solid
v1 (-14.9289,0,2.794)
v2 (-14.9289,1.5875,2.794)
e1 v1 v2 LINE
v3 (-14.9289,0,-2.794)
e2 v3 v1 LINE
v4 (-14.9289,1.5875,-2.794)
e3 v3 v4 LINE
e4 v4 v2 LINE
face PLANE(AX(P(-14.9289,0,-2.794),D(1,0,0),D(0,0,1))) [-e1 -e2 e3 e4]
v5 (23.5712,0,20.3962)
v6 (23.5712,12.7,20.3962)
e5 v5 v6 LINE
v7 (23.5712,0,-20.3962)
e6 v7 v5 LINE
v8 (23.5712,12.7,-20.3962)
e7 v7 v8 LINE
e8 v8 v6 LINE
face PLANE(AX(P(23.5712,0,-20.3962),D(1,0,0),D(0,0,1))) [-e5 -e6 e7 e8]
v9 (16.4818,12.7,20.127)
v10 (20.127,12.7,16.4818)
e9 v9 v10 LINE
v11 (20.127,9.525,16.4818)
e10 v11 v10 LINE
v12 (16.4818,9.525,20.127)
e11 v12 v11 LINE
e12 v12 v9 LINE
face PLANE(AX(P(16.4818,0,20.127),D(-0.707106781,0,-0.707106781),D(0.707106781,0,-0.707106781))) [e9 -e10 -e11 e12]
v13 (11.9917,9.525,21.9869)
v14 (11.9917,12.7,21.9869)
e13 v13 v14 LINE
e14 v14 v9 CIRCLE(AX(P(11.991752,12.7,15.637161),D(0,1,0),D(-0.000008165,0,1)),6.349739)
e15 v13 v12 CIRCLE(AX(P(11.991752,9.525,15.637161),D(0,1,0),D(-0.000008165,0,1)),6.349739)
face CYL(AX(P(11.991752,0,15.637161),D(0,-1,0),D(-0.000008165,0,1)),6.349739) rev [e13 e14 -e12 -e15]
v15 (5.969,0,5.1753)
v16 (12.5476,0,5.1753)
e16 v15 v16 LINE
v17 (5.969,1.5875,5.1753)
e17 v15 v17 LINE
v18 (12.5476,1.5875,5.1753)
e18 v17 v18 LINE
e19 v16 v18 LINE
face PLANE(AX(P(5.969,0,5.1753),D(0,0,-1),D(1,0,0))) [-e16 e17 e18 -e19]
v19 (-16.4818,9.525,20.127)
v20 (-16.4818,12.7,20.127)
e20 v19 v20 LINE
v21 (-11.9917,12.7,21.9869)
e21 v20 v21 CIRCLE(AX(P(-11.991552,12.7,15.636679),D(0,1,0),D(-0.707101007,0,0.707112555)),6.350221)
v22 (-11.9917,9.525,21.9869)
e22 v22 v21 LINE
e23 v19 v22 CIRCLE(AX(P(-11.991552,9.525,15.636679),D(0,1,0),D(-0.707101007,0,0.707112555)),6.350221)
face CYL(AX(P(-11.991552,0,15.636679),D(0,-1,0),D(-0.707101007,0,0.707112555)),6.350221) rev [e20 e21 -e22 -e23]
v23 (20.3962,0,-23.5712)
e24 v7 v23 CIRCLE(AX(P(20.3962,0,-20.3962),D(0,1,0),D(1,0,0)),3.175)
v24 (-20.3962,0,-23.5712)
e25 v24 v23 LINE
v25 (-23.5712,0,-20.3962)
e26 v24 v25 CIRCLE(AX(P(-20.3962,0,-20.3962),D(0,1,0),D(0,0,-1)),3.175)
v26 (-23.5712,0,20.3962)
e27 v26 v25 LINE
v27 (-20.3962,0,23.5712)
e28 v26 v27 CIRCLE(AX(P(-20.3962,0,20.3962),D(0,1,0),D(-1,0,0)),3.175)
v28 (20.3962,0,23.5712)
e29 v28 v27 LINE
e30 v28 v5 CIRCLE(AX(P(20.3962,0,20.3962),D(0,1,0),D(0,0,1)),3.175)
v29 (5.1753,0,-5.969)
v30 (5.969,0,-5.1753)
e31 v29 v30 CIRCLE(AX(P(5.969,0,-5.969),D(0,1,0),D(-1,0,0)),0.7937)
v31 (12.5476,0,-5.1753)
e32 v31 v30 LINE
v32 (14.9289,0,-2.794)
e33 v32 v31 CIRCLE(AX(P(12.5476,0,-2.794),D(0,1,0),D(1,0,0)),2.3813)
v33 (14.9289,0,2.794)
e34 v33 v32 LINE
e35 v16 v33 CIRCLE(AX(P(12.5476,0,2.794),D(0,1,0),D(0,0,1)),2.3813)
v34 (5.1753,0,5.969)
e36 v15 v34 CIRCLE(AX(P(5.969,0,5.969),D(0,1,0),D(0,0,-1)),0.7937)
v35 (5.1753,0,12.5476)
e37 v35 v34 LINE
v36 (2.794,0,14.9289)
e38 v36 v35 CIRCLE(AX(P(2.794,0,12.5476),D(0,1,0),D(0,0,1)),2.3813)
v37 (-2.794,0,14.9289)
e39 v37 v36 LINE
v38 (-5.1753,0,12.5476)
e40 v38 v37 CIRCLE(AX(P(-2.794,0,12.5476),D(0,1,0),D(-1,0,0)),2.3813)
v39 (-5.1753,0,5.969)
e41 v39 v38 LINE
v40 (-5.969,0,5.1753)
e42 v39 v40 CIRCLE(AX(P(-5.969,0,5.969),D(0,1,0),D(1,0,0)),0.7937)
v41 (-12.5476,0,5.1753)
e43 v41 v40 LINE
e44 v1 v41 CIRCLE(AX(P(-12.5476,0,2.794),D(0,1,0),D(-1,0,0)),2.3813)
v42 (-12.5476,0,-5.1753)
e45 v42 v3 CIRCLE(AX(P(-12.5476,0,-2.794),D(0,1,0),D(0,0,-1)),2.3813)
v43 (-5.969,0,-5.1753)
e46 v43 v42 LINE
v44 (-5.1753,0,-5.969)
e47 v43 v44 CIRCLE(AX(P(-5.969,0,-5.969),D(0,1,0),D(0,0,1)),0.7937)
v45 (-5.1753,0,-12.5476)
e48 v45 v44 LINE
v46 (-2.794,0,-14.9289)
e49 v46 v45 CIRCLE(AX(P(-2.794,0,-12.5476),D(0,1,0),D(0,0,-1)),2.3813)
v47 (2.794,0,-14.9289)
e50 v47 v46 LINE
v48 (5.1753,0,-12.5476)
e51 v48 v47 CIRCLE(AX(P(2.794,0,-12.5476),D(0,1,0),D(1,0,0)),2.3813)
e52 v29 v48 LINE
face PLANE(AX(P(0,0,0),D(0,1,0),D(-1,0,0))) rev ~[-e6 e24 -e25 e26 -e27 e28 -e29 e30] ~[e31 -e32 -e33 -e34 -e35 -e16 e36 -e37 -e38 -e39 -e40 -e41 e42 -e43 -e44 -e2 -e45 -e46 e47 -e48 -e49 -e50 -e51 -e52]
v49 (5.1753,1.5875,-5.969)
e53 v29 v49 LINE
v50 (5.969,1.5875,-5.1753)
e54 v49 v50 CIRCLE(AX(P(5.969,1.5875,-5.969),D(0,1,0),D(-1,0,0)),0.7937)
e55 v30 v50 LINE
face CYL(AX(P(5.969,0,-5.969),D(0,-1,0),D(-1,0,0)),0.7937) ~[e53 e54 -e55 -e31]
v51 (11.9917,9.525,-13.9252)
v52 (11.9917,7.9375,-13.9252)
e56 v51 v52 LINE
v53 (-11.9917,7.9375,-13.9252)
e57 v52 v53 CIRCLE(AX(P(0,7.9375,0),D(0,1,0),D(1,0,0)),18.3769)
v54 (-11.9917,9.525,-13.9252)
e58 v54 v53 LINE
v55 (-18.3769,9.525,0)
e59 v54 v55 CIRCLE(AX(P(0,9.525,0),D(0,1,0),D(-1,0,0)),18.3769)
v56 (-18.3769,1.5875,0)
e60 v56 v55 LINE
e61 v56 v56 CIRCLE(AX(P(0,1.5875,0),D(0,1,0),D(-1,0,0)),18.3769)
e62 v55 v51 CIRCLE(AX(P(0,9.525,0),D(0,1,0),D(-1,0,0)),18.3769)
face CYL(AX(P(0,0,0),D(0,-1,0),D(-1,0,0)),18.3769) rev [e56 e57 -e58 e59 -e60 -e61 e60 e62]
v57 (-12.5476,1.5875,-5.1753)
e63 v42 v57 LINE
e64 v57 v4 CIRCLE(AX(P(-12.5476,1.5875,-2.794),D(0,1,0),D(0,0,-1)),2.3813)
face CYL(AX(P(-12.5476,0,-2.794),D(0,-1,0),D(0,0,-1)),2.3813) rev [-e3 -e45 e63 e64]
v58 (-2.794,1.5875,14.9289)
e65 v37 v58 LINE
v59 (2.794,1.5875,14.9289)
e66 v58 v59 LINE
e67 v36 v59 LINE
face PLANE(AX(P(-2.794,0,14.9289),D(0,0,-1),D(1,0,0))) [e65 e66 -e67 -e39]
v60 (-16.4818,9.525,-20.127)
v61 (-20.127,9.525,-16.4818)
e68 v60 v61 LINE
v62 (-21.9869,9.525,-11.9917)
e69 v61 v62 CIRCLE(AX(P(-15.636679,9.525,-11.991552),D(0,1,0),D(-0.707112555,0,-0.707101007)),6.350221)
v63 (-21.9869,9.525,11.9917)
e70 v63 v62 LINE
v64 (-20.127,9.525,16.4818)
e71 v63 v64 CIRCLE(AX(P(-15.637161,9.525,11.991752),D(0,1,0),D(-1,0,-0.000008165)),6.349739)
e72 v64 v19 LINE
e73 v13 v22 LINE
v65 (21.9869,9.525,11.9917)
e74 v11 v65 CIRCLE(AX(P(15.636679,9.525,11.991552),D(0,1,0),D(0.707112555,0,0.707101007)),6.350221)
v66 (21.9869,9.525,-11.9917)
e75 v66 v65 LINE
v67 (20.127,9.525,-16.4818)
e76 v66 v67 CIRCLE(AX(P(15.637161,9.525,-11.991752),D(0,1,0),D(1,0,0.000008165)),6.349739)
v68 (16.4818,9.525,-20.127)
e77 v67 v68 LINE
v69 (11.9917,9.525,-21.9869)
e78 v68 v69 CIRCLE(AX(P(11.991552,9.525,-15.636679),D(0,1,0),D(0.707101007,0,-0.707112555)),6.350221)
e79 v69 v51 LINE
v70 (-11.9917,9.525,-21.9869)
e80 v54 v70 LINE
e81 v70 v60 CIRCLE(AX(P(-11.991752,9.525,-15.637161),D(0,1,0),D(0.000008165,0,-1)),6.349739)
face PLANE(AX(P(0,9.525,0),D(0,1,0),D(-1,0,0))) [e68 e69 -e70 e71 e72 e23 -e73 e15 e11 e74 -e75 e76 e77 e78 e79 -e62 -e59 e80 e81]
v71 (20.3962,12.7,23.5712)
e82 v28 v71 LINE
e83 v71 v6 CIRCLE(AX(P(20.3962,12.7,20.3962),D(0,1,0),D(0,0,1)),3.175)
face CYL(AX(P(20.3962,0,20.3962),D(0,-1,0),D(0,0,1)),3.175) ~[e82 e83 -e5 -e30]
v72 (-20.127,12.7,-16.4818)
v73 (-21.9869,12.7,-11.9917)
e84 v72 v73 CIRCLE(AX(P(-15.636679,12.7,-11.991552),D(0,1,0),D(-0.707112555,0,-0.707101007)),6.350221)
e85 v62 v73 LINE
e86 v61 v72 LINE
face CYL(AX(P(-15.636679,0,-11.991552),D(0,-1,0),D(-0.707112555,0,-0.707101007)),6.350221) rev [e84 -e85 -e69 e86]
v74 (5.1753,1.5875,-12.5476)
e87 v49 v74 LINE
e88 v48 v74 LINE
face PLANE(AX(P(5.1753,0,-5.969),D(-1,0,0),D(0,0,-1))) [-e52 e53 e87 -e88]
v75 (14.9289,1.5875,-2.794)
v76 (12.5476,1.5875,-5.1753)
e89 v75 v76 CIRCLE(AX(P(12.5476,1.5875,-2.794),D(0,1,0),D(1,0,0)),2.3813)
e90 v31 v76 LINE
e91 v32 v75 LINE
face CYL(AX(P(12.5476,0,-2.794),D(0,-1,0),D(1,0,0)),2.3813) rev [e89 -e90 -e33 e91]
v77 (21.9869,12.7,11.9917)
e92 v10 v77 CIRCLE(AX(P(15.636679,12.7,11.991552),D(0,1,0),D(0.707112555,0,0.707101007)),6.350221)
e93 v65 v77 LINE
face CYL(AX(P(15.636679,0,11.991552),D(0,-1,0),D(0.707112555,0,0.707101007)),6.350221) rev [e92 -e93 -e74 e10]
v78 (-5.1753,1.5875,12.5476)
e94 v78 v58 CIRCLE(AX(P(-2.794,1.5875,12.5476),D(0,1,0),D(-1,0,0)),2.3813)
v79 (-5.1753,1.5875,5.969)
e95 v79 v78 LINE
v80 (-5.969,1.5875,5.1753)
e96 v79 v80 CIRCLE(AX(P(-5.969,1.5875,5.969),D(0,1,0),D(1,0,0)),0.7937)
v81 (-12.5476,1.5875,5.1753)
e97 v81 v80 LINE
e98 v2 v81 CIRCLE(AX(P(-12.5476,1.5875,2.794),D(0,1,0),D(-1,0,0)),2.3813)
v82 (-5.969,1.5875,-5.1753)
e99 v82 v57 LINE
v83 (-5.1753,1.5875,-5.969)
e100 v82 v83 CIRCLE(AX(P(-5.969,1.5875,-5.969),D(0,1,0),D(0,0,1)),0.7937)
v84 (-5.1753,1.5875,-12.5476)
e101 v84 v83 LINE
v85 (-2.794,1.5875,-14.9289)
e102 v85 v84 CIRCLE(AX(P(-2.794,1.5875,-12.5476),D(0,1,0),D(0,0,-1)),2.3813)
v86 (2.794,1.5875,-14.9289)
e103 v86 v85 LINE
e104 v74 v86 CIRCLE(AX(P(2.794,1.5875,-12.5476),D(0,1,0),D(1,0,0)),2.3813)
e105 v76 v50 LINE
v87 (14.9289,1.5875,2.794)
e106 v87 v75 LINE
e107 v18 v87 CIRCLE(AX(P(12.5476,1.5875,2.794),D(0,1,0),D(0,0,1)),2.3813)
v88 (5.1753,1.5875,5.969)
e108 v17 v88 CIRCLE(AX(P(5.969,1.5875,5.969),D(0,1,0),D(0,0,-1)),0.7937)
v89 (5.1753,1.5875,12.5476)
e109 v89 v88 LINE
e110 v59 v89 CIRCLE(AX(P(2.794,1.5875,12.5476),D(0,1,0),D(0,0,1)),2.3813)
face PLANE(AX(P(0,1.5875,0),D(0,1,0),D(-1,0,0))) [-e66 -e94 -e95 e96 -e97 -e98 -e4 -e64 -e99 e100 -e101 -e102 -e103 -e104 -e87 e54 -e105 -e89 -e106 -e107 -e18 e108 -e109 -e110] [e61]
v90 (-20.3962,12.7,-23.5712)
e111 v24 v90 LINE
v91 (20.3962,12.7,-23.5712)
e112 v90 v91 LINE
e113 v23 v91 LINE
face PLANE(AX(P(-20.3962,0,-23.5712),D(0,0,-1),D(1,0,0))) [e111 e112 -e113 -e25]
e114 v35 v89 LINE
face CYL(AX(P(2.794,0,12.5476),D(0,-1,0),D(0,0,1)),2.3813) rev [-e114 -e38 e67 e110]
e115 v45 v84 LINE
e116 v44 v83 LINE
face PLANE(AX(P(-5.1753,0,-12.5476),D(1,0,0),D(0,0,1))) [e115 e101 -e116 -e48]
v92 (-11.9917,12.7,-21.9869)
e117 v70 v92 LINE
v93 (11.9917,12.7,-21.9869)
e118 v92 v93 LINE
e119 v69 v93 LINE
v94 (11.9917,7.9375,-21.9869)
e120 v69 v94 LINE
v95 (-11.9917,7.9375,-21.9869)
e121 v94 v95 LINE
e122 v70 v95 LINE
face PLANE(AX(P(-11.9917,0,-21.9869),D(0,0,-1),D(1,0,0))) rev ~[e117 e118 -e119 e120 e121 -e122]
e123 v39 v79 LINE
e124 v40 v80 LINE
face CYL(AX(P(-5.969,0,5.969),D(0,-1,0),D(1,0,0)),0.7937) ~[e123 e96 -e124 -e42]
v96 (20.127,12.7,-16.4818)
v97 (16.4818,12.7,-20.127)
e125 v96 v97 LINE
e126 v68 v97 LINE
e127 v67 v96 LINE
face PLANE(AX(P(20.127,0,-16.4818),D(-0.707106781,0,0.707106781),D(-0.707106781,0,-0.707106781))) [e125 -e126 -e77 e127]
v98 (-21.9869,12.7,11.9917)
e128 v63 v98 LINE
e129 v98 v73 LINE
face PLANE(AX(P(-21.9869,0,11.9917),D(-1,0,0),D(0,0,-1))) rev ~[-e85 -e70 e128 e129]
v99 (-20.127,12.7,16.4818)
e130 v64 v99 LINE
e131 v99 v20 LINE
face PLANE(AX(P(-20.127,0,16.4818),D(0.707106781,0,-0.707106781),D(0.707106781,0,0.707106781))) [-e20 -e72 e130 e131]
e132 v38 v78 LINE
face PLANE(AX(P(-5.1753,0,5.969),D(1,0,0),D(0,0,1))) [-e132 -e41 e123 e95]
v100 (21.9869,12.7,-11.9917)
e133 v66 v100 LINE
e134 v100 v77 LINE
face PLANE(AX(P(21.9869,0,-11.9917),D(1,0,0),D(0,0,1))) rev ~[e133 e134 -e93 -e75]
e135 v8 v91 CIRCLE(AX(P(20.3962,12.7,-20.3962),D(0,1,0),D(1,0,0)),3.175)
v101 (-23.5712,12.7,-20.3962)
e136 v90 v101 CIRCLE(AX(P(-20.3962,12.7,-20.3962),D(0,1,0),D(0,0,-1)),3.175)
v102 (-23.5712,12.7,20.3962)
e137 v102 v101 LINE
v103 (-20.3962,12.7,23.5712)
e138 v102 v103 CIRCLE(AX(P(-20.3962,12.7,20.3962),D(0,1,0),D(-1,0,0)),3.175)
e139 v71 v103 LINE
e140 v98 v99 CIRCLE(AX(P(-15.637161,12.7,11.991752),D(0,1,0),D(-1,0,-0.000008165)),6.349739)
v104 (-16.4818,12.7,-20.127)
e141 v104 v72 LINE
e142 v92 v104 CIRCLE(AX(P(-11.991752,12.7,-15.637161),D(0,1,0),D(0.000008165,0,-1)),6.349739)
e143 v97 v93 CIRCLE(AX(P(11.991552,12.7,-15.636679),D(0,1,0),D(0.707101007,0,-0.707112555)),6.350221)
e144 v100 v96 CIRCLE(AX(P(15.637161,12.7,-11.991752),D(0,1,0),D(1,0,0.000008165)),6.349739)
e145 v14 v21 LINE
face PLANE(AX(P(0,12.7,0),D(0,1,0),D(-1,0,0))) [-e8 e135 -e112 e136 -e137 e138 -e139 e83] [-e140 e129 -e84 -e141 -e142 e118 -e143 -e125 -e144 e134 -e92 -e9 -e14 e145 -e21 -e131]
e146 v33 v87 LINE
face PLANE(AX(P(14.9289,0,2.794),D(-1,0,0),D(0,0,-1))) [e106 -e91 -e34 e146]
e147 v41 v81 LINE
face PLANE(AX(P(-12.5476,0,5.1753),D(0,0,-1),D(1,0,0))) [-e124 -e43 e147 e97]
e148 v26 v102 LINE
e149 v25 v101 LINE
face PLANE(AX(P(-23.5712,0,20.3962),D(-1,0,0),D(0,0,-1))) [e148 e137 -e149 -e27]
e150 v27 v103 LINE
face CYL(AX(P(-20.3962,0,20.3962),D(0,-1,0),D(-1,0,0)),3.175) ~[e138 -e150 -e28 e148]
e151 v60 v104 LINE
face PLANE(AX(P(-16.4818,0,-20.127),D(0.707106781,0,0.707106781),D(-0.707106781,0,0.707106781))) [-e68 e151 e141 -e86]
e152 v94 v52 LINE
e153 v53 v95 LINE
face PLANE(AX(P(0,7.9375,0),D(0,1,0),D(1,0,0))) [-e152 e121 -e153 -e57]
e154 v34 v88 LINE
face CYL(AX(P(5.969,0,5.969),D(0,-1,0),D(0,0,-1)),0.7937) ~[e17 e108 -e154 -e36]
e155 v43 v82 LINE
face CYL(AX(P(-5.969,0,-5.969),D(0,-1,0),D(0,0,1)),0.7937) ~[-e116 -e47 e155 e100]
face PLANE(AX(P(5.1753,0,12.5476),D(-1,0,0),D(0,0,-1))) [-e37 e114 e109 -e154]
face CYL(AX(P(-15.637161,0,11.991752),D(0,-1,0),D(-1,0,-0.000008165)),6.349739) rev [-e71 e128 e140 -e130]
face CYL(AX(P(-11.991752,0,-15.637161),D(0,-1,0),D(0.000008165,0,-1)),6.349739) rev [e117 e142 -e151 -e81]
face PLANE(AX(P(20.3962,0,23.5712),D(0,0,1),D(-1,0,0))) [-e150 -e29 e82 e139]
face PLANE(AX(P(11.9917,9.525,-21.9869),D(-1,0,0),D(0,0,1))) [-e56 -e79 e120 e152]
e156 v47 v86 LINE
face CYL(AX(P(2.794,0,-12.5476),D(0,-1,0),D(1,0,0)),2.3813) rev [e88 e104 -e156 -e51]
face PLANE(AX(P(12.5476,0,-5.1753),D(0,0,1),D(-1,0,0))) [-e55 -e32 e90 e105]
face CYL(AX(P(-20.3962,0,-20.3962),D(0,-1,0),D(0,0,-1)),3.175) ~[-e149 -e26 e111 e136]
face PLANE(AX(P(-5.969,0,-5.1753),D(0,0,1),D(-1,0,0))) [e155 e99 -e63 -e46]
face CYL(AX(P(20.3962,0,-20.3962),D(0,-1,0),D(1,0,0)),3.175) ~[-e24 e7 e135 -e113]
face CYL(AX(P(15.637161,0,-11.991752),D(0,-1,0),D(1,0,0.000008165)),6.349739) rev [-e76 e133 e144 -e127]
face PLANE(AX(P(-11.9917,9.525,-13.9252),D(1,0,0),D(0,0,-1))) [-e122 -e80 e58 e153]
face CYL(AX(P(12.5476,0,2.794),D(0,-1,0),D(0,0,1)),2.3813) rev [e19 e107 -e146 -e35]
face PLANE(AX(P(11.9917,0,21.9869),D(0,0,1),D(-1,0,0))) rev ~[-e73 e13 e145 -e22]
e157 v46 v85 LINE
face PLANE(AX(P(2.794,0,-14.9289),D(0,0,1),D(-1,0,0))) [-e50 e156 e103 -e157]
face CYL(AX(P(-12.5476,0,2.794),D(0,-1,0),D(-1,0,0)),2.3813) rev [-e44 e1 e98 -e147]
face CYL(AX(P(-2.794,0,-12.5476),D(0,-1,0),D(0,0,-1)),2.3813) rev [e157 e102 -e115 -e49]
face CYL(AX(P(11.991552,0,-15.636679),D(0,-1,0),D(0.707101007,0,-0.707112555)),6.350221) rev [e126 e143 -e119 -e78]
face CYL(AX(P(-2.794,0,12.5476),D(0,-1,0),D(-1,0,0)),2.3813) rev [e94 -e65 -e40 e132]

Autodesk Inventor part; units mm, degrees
ref_plane "YZ Plane" through (0, 0, 0) normal (1, 0, 0) x (0, 1, 0)
ref_plane "XZ Plane" through (0, 0, 0) normal (0, 1, 0) x (-1, 0, 0)
ref_plane "XY Plane" through (0, 0, 0) normal (0, 0, 1) x (1, 0, 0)
sketch "Sketch1" plane through (0, 0, 0) normal (0, 1, 0) x (-1, 0, 0)
  circle A0 centre (0, 0) radius 18.3769
  line L0 (18.3769, 18.3769) -> (-18.3769, -18.3769) construction
  line L1 (-18.3769, 18.3769) -> (18.3769, -18.3769) construction
  line L2 (13.335, 21.59) -> (-13.335, 21.59)
  line L3 (-21.59, 13.335) -> (-21.59, -13.335)
  line L4 (-13.335, -21.59) -> (13.335, -21.59)
  line L5 (21.59, -13.335) -> (21.59, 13.335)
  line L6 (21.59, 21.59) -> (-21.59, -21.59) construction
  line L7 (-21.59, 21.59) -> (21.59, -21.59) construction
  line L8 (21.59, 13.335) -> (13.335, 21.59)
  line L9 (-13.335, 21.59) -> (-21.59, 13.335)
  line L10 (-21.59, -13.335) -> (-13.335, -21.59)
  line L11 (13.335, -21.59) -> (21.59, -13.335)
  circle A1 centre (15.24, -15.24) radius 1.0033
  circle A2 centre (-15.24, -15.24) radius 1.0033
  circle A3 centre (-15.24, 15.24) radius 1.0033
  circle A4 centre (15.24, 15.24) radius 1.0033
  line L12 (11.9917, -21.9869) -> (-11.9917, -21.9869)
  line L13 (-21.9869, -11.9917) -> (-21.9869, 11.9917)
  line L14 (-11.9917, 21.9869) -> (11.9917, 21.9869)
  line L15 (21.9869, 11.9917) -> (21.9869, -11.9917)
  line L16 (-20.3962, 23.5712) -> (20.3962, 23.5712)
  line L17 (23.5712, 20.3962) -> (23.5712, -20.3962)
  line L18 (20.3962, -23.5712) -> (-20.3962, -23.5712)
  line L19 (-23.5712, -20.3962) -> (-23.5712, 20.3962)
  line L20 (-23.5712, 23.5712) -> (23.5712, -23.5712) construction
  line L21 (23.5712, 23.5712) -> (-23.5712, -23.5712) construction
  arc A5 (20.3962, -23.5712) -> (23.5712, -20.3962) centre (20.3962, -20.3962) ccw
  arc A6 (-23.5712, -20.3962) -> (-20.3962, -23.5712) centre (-20.3962, -20.3962) ccw
  arc A7 (-20.3962, 23.5712) -> (-23.5712, 20.3962) centre (-20.3962, 20.3962) ccw
  arc A8 (23.5712, 20.3962) -> (20.3962, 23.5712) centre (20.3962, 20.3962) ccw
  circle A9 centre (20.3962, -20.3962) radius 1.0033
  circle A10 centre (-20.3962, -20.3962) radius 1.0033
  circle A11 centre (-20.3962, 20.3962) radius 1.0033
  circle A12 centre (20.3962, 20.3962) radius 1.0033
  line L22 (16.4818, -20.127) -> (20.127, -16.4818)
  line L23 (20.127, 16.4818) -> (16.4818, 20.127)
  line L24 (-16.4818, 20.127) -> (-20.127, 16.4818)
  line L25 (-20.127, -16.4818) -> (-16.4818, -20.127)
  arc A13 (21.9869, 11.9917) -> (20.127, 16.4818) centre (15.6369, 11.9917) ccw
  arc A14 (16.4818, 20.127) -> (11.9917, 21.9869) centre (11.9917, 15.6369) ccw
  arc A15 (-11.9917, 21.9869) -> (-16.4818, 20.127) centre (-11.9917, 15.6369) ccw
  arc A16 (-20.127, 16.4818) -> (-21.9869, 11.9917) centre (-15.6369, 11.9917) ccw
  arc A17 (-21.9869, -11.9917) -> (-20.127, -16.4818) centre (-15.6369, -11.9917) ccw
  arc A18 (-16.4818, -20.127) -> (-11.9917, -21.9869) centre (-11.9917, -15.6369) ccw
  arc A19 (11.9917, -21.9869) -> (16.4818, -20.127) centre (11.9917, -15.6369) ccw
  arc A20 (20.127, -16.4818) -> (21.9869, -11.9917) centre (15.6369, -11.9917) ccw
  line L26 (4.3815, -5.969) -> (4.3815, -12.5476)
  line L27 (2.794, -14.1351) -> (-2.794, -14.1351)
  line L28 (-4.3815, -12.5476) -> (-4.3815, -5.969)
  line L29 (4.3815, 5.969) -> (4.3815, 12.5476)
  line L30 (2.794, 14.1351) -> (-2.794, 14.1351)
  line L31 (-4.3815, 12.5476) -> (-4.3815, 5.969)
  line L32 (-5.969, -4.3815) -> (-12.5476, -4.3815)
  line L33 (-14.1351, -2.794) -> (-14.1351, 2.794)
  line L34 (-12.5476, 4.3815) -> (-5.969, 4.3815)
  line L35 (5.969, -4.3815) -> (12.5476, -4.3815)
  line L36 (14.1351, -2.794) -> (14.1351, 2.794)
  line L37 (12.5476, 4.3815) -> (5.969, 4.3815)
  arc A21 (2.794, -14.1351) -> (4.3815, -12.5476) centre (2.794, -12.5476) ccw
  arc A22 (-4.3815, -12.5476) -> (-2.794, -14.1351) centre (-2.794, -12.5476) ccw
  arc A23 (-4.3815, -5.969) -> (-5.969, -4.3815) centre (-5.969, -5.969) ccw
  arc A24 (-14.1351, -2.794) -> (-12.5476, -4.3815) centre (-12.5476, -2.794) ccw
  arc A25 (-14.1351, -2.794) -> (-12.5476, -4.3815) centre (-12.5476, -2.794) ccw
  arc A26 (-12.5476, 4.3815) -> (-14.1351, 2.794) centre (-12.5476, 2.794) ccw
  arc A27 (-5.969, 4.3815) -> (-4.3815, 5.969) centre (-5.969, 5.969) ccw
  arc A28 (-2.794, 14.1351) -> (-4.3815, 12.5476) centre (-2.794, 12.5476) ccw
  arc A29 (4.3815, 12.5476) -> (2.794, 14.1351) centre (2.794, 12.5476) ccw
  arc A30 (4.3815, 5.969) -> (5.969, 4.3815) centre (5.969, 5.969) ccw
  arc A31 (14.1351, 2.794) -> (12.5476, 4.3815) centre (12.5476, 2.794) ccw
  arc A32 (12.5476, -4.3815) -> (14.1351, -2.794) centre (12.5476, -2.794) ccw
  arc A33 (5.969, -4.3815) -> (4.3815, -5.969) centre (5.969, -5.969) ccw
  line L38 (-2.794, -14.9289) -> (2.794, -14.9289)
  arc A34 (2.794, -14.9289) -> (5.1753, -12.5476) centre (2.794, -12.5476) ccw
  line L39 (5.1753, -12.5476) -> (5.1753, -5.969)
  arc A35 (5.969, -5.1753) -> (5.1753, -5.969) centre (5.969, -5.969) ccw
  line L40 (5.969, -5.1753) -> (12.5476, -5.1753)
  arc A36 (12.5476, -5.1753) -> (14.9289, -2.794) centre (12.5476, -2.794) ccw
  line L41 (14.9289, -2.794) -> (14.9289, 2.794)
  arc A37 (14.9289, 2.794) -> (12.5476, 5.1753) centre (12.5476, 2.794) ccw
  line L42 (12.5476, 5.1753) -> (5.969, 5.1753)
  arc A38 (5.1753, 5.969) -> (5.969, 5.1753) centre (5.969, 5.969) ccw
  line L43 (5.1753, 5.969) -> (5.1753, 12.5476)
  arc A39 (5.1753, 12.5476) -> (2.794, 14.9289) centre (2.794, 12.5476) ccw
  line L44 (2.794, 14.9289) -> (-2.794, 14.9289)
  arc A40 (-2.794, 14.9289) -> (-5.1753, 12.5476) centre (-2.794, 12.5476) ccw
  line L45 (-5.1753, 12.5476) -> (-5.1753, 5.969)
  arc A41 (-5.969, 5.1753) -> (-5.1753, 5.969) centre (-5.969, 5.969) ccw
  line L46 (-5.969, 5.1753) -> (-12.5476, 5.1753)
  arc A42 (-12.5476, 5.1753) -> (-14.9289, 2.794) centre (-12.5476, 2.794) ccw
  line L47 (-14.9289, 2.794) -> (-14.9289, -2.794)
  arc A43 (-14.9289, -2.794) -> (-12.5476, -5.1753) centre (-12.5476, -2.794) ccw
  line L48 (-12.5476, -5.1753) -> (-5.969, -5.1753)
  arc A44 (-5.1753, -5.969) -> (-5.969, -5.1753) centre (-5.969, -5.969) ccw
  line L49 (-5.1753, -5.969) -> (-5.1753, -12.5476)
  arc A45 (-5.1753, -12.5476) -> (-2.794, -14.9289) centre (-2.794, -12.5476) ccw
  line L50 (11.9917, -21.59) -> (-11.9917, -21.59)
  line L51 (-11.9917, -21.59) -> (-11.9917, -13.9252)
  line L52 (11.9917, -13.9252) -> (11.9917, -21.59)
  point P0 (4.3815, -14.1351)
  point P1 (-4.3815, -14.1351)
  point P2 (4.3815, 14.1351)
  point P3 (-14.1351, 4.3815)
  point P4 (-4.3815, 4.3815)
  point P5 (14.1351, 4.3815)
  point P6 (4.3815, 4.3815)
  dimension "d33" = 36.7538
  dimension "d34" = 43.18
  dimension "d35" = 43.18
  dimension "d48" = 2.0066
  dimension "d49" = 2.0066
  dimension "d50" = 2.0066
  dimension "d51" = 2.0066
  dimension "d52" = 0.3969
  dimension "d53" = 47.1424
  dimension "d54" = 47.1424
  dimension "d55" = 3.175
  dimension "d56" = 2.0066
  dimension "d57" = 2.0066
  dimension "d58" = 2.0066
  dimension "d59" = 2.0066
  dimension "d62" = 6.35
  dimension "d79" = 8.763
  dimension "d84" = 1.5875
  dimension "d85" = 0.7937
  dimension "d86" = 9.7536
extrude "outer" add sketch "Sketch1" along normal blind 12.7 contours L16 A8 L17 A5 L18 A6 L19 A7
extrude "pcb support" add sketch "Sketch1" along normal blind 9.525 contours A0 L51 L4 L10 L3 L9 L2 L8 L5 L11 L52 | A0 L52 L4 L51 | L12 A18 L25 A17 L13 A16 L24 A15 L14 A14 L23 A13 L15 A20 L22 A19
extrude "pcb screw hole location" add sketch "Sketch1" along normal blind 9.525 contours A1 | A2 | A3 | A4
extrude "back cover screw hole location" add sketch "Sketch1" along normal blind 12.7 contours A9 | A10 | A11 | A12
extrude "dpad face" add sketch "Sketch1" along normal blind 1.5875 contours A0
sketch "Sketch3" plane through (20.3962, 0, -23.5712) normal (0, 0, -1) x (-1, 0, 0)
  line L0 (0, 0) -> (40.7924, 0) projected
  line L1 (-3.175, 0) -> (-3.175, 12.7) projected
  line L2 (32.3879, 9.525) -> (8.4045, 9.525) projected
  line L3 (8.4045, 9.525) -> (32.3879, 9.525) projected
  circle A0 centre (20.3962, 9.525) radius 3.9687
  point P0 (20.3962, 0)
  dimension "d92" = 7.9375
extrude "ether cable" [suppressed]
sketch "Sketch4" plane through (0, 9.525, 0) normal (0, 1, 0) x (1, 0, 0)
  circle A0 centre (0, 0) radius 18.3769 projected
  line L0 (11.9917, 21.9869) -> (-11.9917, 21.9869) projected
  line L1 (-11.9917, 21.9869) -> (11.9917, 21.9869)
  line L2 (11.9917, 21.9869) -> (11.9917, 13.9252)
  line L3 (-11.9917, 13.9252) -> (-11.9917, 21.9869)
  arc A1 (11.9917, 13.9252) -> (-11.9917, 13.9252) centre (0, 0) ccw
extrude "pocket" cut sketch "Sketch4" against normal blind 1.5875 contours A0 L3 L0 L2
properties part number "SnakeControllerCase_v3"
